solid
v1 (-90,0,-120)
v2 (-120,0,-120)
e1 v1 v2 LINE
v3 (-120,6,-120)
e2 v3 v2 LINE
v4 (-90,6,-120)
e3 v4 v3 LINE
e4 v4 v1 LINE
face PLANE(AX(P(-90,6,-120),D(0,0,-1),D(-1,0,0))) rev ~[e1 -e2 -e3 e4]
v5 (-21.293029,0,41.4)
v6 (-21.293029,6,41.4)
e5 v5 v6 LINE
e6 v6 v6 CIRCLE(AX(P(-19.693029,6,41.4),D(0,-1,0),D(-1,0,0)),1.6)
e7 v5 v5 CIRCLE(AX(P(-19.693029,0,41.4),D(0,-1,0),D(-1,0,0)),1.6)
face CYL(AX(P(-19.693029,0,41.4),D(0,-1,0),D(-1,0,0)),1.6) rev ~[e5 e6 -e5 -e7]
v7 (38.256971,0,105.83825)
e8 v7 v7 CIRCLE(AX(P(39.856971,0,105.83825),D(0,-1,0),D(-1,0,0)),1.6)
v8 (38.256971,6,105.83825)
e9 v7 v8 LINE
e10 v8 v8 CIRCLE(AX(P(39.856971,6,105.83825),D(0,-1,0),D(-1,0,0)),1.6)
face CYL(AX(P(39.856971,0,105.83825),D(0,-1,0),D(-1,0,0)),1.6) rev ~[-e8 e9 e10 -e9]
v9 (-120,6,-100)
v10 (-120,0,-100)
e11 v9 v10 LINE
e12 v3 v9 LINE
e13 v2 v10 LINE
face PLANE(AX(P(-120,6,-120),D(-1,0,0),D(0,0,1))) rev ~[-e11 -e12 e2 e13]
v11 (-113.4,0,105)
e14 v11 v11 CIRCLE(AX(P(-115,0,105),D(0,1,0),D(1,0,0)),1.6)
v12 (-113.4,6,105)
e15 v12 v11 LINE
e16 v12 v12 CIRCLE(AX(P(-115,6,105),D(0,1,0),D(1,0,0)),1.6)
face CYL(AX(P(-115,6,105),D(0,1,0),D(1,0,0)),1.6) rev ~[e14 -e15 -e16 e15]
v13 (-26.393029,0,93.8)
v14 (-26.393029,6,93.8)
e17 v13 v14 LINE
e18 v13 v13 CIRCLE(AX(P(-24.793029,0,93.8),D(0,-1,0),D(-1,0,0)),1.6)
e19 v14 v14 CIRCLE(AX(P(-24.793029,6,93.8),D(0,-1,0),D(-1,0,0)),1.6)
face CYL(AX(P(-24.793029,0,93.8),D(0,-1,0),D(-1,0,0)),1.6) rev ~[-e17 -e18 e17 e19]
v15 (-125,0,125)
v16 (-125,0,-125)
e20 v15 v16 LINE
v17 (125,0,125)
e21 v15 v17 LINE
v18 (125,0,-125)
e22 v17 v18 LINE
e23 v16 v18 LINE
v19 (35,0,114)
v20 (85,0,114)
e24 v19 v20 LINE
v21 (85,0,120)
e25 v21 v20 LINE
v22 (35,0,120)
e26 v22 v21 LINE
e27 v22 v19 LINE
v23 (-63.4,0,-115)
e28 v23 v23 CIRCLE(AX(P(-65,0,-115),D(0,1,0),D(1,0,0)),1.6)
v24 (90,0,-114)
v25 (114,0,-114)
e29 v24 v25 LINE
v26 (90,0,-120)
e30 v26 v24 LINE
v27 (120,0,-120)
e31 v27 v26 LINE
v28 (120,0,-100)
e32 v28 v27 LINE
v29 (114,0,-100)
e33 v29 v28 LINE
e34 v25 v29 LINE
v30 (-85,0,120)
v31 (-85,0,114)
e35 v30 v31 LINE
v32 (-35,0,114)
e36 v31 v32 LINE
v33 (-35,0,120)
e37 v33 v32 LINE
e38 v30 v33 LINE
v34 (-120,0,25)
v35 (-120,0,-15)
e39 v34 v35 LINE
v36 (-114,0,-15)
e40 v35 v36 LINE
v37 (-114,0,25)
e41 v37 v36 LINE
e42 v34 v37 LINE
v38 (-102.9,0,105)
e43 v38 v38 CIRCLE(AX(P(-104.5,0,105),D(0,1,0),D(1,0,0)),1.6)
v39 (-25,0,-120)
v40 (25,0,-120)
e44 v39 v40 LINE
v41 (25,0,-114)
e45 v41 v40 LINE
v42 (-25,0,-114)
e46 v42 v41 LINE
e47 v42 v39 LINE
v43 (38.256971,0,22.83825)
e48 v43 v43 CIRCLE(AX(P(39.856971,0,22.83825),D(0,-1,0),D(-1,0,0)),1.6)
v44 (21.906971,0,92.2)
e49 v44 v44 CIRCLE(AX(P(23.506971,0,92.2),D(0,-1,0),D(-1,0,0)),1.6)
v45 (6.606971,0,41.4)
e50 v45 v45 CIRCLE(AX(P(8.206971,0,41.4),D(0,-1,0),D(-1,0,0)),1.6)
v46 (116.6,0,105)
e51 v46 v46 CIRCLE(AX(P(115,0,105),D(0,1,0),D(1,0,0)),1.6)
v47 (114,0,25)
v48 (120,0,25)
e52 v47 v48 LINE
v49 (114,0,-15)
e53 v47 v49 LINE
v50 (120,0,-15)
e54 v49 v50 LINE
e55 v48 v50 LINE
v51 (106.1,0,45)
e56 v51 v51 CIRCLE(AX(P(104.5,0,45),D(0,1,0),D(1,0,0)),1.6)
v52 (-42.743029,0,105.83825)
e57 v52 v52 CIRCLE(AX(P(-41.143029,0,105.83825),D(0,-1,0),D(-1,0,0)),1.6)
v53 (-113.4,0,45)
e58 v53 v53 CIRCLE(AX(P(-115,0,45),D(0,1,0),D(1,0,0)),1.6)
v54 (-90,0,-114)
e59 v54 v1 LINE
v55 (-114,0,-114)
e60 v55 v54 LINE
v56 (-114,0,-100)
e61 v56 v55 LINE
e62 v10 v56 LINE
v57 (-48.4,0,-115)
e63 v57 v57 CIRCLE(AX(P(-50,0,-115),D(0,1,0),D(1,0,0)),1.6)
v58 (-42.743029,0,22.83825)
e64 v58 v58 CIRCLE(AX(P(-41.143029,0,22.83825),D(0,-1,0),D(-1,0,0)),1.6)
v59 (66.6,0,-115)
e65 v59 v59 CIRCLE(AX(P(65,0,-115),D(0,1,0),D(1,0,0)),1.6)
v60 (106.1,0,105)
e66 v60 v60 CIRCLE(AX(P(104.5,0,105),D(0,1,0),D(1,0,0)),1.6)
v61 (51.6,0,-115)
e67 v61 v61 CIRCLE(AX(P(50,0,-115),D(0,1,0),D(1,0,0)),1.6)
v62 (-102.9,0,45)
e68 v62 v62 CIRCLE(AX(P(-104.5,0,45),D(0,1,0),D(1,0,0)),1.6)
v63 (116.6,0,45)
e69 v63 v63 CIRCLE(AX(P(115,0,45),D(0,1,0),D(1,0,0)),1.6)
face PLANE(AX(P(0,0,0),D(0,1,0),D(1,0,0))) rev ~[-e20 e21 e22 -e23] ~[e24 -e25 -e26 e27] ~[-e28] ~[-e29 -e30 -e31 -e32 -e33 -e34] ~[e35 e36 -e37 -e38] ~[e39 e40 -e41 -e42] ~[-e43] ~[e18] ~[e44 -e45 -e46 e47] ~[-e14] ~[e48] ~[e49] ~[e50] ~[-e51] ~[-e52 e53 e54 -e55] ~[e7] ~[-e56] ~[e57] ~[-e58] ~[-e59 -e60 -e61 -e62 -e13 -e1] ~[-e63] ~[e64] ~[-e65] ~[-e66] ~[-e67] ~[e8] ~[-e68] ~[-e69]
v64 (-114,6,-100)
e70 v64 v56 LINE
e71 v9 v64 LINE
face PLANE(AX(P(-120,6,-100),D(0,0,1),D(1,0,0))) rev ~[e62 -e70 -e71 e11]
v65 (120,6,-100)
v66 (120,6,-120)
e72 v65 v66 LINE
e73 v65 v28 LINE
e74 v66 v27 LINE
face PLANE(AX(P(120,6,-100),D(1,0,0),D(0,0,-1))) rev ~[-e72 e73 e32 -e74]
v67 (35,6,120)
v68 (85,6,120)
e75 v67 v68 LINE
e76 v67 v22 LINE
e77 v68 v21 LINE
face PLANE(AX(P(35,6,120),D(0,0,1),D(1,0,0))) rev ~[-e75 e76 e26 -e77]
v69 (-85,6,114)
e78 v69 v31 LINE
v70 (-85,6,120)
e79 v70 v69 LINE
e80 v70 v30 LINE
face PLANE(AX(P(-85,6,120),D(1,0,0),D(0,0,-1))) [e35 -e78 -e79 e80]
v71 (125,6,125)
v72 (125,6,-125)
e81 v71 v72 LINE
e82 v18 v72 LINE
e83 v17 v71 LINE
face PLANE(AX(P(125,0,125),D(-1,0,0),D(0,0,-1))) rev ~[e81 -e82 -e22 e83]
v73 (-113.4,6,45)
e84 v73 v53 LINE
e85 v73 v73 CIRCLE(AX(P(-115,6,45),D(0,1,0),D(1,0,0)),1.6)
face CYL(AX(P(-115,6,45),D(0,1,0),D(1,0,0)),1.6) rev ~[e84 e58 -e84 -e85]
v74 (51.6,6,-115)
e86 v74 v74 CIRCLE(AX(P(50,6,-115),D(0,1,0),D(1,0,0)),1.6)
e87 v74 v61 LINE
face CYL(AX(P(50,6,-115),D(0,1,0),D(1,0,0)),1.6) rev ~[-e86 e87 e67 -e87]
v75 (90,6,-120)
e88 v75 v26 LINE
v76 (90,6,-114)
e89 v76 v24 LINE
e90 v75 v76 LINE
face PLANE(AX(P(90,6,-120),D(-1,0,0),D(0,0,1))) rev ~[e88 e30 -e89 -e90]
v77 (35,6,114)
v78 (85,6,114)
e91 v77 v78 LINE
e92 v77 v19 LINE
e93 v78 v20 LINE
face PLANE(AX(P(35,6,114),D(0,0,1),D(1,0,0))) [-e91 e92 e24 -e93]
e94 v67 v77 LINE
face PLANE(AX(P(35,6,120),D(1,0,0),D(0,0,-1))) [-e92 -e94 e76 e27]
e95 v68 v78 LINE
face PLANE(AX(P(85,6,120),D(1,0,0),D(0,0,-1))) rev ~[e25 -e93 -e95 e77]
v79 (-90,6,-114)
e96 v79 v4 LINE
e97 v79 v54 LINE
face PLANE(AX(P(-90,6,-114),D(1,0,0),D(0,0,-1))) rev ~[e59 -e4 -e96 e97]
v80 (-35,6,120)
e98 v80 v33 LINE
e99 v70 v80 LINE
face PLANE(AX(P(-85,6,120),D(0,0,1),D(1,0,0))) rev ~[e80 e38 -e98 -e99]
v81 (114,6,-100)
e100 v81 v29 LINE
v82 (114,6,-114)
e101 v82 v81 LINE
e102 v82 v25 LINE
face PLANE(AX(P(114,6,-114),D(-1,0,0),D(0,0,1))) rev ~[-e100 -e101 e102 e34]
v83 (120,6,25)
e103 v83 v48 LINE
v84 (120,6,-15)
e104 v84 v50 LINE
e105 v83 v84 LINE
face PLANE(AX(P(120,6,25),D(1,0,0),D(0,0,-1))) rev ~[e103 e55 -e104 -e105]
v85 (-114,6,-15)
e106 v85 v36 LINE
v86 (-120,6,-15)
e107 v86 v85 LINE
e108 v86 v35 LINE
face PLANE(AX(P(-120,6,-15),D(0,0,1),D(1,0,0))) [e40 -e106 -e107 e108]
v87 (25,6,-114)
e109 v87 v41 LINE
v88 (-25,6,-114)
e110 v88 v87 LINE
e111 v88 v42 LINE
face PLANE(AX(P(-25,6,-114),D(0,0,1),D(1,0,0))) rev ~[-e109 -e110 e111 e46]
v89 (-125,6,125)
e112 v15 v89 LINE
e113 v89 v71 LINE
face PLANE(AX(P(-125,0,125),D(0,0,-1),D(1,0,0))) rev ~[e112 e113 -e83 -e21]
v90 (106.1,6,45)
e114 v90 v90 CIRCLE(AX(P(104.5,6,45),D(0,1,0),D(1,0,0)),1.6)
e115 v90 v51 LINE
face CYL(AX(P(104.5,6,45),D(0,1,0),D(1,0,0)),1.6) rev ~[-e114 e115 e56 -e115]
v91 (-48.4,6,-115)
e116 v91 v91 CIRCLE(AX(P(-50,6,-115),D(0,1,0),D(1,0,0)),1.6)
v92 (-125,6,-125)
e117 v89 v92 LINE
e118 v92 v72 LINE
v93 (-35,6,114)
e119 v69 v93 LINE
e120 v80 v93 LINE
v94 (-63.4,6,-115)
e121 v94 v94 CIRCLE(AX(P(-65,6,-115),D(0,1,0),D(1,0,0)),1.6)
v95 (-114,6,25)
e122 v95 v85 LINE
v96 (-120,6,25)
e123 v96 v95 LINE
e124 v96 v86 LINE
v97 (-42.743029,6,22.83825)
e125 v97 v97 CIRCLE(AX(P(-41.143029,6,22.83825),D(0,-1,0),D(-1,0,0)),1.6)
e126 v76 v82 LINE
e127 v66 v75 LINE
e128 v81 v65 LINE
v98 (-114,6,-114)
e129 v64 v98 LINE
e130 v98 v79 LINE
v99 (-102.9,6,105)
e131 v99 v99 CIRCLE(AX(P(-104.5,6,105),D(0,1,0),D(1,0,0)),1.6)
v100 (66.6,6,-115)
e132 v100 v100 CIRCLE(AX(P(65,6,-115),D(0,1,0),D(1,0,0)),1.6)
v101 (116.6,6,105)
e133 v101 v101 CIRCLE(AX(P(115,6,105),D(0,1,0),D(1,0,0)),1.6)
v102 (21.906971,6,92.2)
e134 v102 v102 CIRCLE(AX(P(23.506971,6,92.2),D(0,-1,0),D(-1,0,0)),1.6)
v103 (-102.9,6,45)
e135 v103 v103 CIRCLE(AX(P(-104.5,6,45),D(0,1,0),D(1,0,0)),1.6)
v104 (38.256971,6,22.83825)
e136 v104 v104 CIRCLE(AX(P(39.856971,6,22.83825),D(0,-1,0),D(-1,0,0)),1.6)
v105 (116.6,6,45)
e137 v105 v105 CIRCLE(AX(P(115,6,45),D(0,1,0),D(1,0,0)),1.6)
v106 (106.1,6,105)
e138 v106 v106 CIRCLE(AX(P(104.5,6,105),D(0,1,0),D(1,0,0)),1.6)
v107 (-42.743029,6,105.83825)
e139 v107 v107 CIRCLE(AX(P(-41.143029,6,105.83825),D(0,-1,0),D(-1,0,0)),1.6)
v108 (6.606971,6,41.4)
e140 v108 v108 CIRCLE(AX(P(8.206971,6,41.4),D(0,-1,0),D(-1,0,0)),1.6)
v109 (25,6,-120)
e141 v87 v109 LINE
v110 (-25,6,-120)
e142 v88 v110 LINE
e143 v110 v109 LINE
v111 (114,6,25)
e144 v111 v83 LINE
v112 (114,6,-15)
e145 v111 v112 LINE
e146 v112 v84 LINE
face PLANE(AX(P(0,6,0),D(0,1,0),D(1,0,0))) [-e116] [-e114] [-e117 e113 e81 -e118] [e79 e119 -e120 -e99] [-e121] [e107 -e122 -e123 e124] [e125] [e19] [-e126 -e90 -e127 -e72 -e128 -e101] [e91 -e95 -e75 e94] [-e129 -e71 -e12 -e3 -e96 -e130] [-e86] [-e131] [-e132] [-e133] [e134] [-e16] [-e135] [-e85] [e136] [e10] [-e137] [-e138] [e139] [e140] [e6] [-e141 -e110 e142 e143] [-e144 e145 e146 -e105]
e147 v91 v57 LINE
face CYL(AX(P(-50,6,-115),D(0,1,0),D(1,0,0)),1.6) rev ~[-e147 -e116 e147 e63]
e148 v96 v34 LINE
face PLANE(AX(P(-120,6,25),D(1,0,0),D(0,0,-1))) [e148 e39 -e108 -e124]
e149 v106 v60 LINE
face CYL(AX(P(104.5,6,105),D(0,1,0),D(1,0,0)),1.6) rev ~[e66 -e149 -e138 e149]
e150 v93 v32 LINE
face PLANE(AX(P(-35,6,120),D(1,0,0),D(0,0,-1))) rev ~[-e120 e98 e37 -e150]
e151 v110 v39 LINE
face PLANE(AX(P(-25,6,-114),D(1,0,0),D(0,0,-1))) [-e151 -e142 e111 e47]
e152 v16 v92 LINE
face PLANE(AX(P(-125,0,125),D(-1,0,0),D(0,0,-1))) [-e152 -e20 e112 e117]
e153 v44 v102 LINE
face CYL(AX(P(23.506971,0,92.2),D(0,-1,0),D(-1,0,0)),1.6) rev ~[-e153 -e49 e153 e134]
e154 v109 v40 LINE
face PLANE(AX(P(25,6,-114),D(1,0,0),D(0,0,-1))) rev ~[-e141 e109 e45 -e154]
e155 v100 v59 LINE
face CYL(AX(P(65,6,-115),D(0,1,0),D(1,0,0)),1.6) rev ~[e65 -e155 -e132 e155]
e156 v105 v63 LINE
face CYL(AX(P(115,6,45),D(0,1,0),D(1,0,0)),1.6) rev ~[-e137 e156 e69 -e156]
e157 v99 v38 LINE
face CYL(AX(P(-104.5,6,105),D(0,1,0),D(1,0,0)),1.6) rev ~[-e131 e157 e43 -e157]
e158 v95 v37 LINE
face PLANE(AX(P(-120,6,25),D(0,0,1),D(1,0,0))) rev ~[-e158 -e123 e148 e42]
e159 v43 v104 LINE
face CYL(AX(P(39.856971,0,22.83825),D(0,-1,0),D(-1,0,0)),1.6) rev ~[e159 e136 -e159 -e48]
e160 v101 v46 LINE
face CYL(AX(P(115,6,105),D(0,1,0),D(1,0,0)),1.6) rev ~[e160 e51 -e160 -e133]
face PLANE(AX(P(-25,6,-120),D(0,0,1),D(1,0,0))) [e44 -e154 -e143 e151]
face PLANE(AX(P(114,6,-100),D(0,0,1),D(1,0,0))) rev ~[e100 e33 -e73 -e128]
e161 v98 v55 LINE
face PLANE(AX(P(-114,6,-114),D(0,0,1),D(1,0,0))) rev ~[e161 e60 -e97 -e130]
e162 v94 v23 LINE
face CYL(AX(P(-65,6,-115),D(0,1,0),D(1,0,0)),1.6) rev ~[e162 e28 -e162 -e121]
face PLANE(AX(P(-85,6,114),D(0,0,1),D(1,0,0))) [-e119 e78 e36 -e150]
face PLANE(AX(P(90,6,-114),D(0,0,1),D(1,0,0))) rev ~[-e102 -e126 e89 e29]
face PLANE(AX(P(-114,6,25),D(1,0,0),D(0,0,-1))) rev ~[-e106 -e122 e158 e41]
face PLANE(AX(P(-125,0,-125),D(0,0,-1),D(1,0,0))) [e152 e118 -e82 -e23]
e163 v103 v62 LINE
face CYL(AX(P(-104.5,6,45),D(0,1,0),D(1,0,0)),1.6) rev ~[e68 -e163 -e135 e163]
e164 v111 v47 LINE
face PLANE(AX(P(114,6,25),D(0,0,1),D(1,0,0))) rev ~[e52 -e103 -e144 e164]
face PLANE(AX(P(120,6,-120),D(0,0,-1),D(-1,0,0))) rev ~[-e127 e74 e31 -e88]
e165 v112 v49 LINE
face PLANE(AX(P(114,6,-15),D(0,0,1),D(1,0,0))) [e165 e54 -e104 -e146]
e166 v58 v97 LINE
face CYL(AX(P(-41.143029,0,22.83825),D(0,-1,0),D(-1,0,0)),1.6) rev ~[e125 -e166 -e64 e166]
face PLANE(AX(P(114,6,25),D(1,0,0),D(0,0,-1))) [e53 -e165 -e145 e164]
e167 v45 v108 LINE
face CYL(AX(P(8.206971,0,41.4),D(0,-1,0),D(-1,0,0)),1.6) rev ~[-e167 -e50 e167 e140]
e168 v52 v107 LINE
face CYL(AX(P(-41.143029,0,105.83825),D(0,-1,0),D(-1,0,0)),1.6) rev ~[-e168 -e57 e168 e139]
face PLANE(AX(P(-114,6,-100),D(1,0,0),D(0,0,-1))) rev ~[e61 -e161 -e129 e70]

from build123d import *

# Parameters (mm, degrees)
SKETCH1_W           = 250
SKETCH1_H           = 250
BOSS_EXTRUDE1_DEPTH = 6
CUT_EXTRUDE2_REACH  = 8
SKETCH4_R           = 1.6
CUT_EXTRUDE3_REACH  = 8
SKETCH5_R           = 1.6
SKETCH6_W           = 6
SKETCH6_H           = 40
SKETCH6_W_2         = 50
SKETCH6_H_2         = 6
CUT_EXTRUDE6_DEPTH  = 6
CUT_EXTRUDE7_REACH  = 8
SKETCH7_R           = 1.6
CUT_EXTRUDE8_REACH  = 8
SKETCH8_R           = 1.6


with BuildPart() as part:
    # Sketch1 → Boss-Extrude1 (new body)
    with BuildSketch(Plane(origin=(0, 0, 0), x_dir=(1, 0, 0), z_dir=(0, 1, 0))):
        Rectangle(SKETCH1_W, SKETCH1_H)
    extrude(amount=BOSS_EXTRUDE1_DEPTH)

    # Sketch4 → Cut-Extrude2 (cut, up to next)
    with BuildSketch(Plane(origin=(0, 6, 0), x_dir=(1, 0, 0), z_dir=(0, 1, 0)), mode=Mode.PRIVATE) as cut_extrude2_sk1:
        with Locations((-115, -105)):
            Circle(SKETCH4_R)
    cut_extrude2_tool1 = extrude(cut_extrude2_sk1.sketch, amount=-CUT_EXTRUDE2_REACH, mode=Mode.PRIVATE) & part.part
    add(cut_extrude2_tool1.solids().sort_by_distance((-115, 6, 105))[0], mode=Mode.SUBTRACT)
    # Sketch4 → Cut-Extrude2 (cut, up to next)
    with BuildSketch(Plane(origin=(0, 6, 0), x_dir=(1, 0, 0), z_dir=(0, 1, 0)), mode=Mode.PRIVATE) as cut_extrude2_sk2:
        with Locations((-104.5, -105)):
            Circle(SKETCH4_R)
    cut_extrude2_tool2 = extrude(cut_extrude2_sk2.sketch, amount=-CUT_EXTRUDE2_REACH, mode=Mode.PRIVATE) & part.part
    add(cut_extrude2_tool2.solids().sort_by_distance((-104.5, 6, 105))[0], mode=Mode.SUBTRACT)
    # Sketch4 → Cut-Extrude2 (cut, up to next)
    with BuildSketch(Plane(origin=(0, 6, 0), x_dir=(1, 0, 0), z_dir=(0, 1, 0)), mode=Mode.PRIVATE) as cut_extrude2_sk3:
        with Locations((-115, -45)):
            Circle(SKETCH4_R)
    cut_extrude2_tool3 = extrude(cut_extrude2_sk3.sketch, amount=-CUT_EXTRUDE2_REACH, mode=Mode.PRIVATE) & part.part
    add(cut_extrude2_tool3.solids().sort_by_distance((-115, 6, 45))[0], mode=Mode.SUBTRACT)
    # Sketch4 → Cut-Extrude2 (cut, up to next)
    with BuildSketch(Plane(origin=(0, 6, 0), x_dir=(1, 0, 0), z_dir=(0, 1, 0)), mode=Mode.PRIVATE) as cut_extrude2_sk4:
        with Locations((-104.5, -45)):
            Circle(SKETCH4_R)
    cut_extrude2_tool4 = extrude(cut_extrude2_sk4.sketch, amount=-CUT_EXTRUDE2_REACH, mode=Mode.PRIVATE) & part.part
    add(cut_extrude2_tool4.solids().sort_by_distance((-104.5, 6, 45))[0], mode=Mode.SUBTRACT)
    # Sketch4 → Cut-Extrude2 (cut, up to next)
    with BuildSketch(Plane(origin=(0, 6, 0), x_dir=(1, 0, 0), z_dir=(0, 1, 0)), mode=Mode.PRIVATE) as cut_extrude2_sk5:
        with Locations((115, -45)):
            Circle(SKETCH4_R)
    cut_extrude2_tool5 = extrude(cut_extrude2_sk5.sketch, amount=-CUT_EXTRUDE2_REACH, mode=Mode.PRIVATE) & part.part
    add(cut_extrude2_tool5.solids().sort_by_distance((115, 6, 45))[0], mode=Mode.SUBTRACT)
    # Sketch4 → Cut-Extrude2 (cut, up to next)
    with BuildSketch(Plane(origin=(0, 6, 0), x_dir=(1, 0, 0), z_dir=(0, 1, 0)), mode=Mode.PRIVATE) as cut_extrude2_sk6:
        with Locations((104.5, -45)):
            Circle(SKETCH4_R)
    cut_extrude2_tool6 = extrude(cut_extrude2_sk6.sketch, amount=-CUT_EXTRUDE2_REACH, mode=Mode.PRIVATE) & part.part
    add(cut_extrude2_tool6.solids().sort_by_distance((104.5, 6, 45))[0], mode=Mode.SUBTRACT)
    # Sketch4 → Cut-Extrude2 (cut, up to next)
    with BuildSketch(Plane(origin=(0, 6, 0), x_dir=(1, 0, 0), z_dir=(0, 1, 0)), mode=Mode.PRIVATE) as cut_extrude2_sk7:
        with Locations((115, -105)):
            Circle(SKETCH4_R)
    cut_extrude2_tool7 = extrude(cut_extrude2_sk7.sketch, amount=-CUT_EXTRUDE2_REACH, mode=Mode.PRIVATE) & part.part
    add(cut_extrude2_tool7.solids().sort_by_distance((115, 6, 105))[0], mode=Mode.SUBTRACT)
    # Sketch4 → Cut-Extrude2 (cut, up to next)
    with BuildSketch(Plane(origin=(0, 6, 0), x_dir=(1, 0, 0), z_dir=(0, 1, 0)), mode=Mode.PRIVATE) as cut_extrude2_sk8:
        with Locations((104.5, -105)):
            Circle(SKETCH4_R)
    cut_extrude2_tool8 = extrude(cut_extrude2_sk8.sketch, amount=-CUT_EXTRUDE2_REACH, mode=Mode.PRIVATE) & part.part
    add(cut_extrude2_tool8.solids().sort_by_distance((104.5, 6, 105))[0], mode=Mode.SUBTRACT)

    # Sketch5 → Cut-Extrude3 (cut, up to next)
    with BuildSketch(Plane(origin=(0, 6, 0), x_dir=(1, 0, 0), z_dir=(0, 1, 0)), mode=Mode.PRIVATE) as cut_extrude3_sk1:
        with Locations((-65, 115)):
            Circle(SKETCH5_R)
    cut_extrude3_tool1 = extrude(cut_extrude3_sk1.sketch, amount=-CUT_EXTRUDE3_REACH, mode=Mode.PRIVATE) & part.part
    add(cut_extrude3_tool1.solids().sort_by_distance((-65, 6, -115))[0], mode=Mode.SUBTRACT)
    # Sketch5 → Cut-Extrude3 (cut, up to next)
    with BuildSketch(Plane(origin=(0, 6, 0), x_dir=(1, 0, 0), z_dir=(0, 1, 0)), mode=Mode.PRIVATE) as cut_extrude3_sk2:
        with Locations((-50, 115)):
            Circle(SKETCH5_R)
    cut_extrude3_tool2 = extrude(cut_extrude3_sk2.sketch, amount=-CUT_EXTRUDE3_REACH, mode=Mode.PRIVATE) & part.part
    add(cut_extrude3_tool2.solids().sort_by_distance((-50, 6, -115))[0], mode=Mode.SUBTRACT)
    # Sketch5 → Cut-Extrude3 (cut, up to next)
    with BuildSketch(Plane(origin=(0, 6, 0), x_dir=(1, 0, 0), z_dir=(0, 1, 0)), mode=Mode.PRIVATE) as cut_extrude3_sk3:
        with Locations((50, 115)):
            Circle(SKETCH5_R)
    cut_extrude3_tool3 = extrude(cut_extrude3_sk3.sketch, amount=-CUT_EXTRUDE3_REACH, mode=Mode.PRIVATE) & part.part
    add(cut_extrude3_tool3.solids().sort_by_distance((50, 6, -115))[0], mode=Mode.SUBTRACT)
    # Sketch5 → Cut-Extrude3 (cut, up to next)
    with BuildSketch(Plane(origin=(0, 6, 0), x_dir=(1, 0, 0), z_dir=(0, 1, 0)), mode=Mode.PRIVATE) as cut_extrude3_sk4:
        with Locations((65, 115)):
            Circle(SKETCH5_R)
    cut_extrude3_tool4 = extrude(cut_extrude3_sk4.sketch, amount=-CUT_EXTRUDE3_REACH, mode=Mode.PRIVATE) & part.part
    add(cut_extrude3_tool4.solids().sort_by_distance((65, 6, -115))[0], mode=Mode.SUBTRACT)

    # Sketch6 → Cut-Extrude6 (cut)
    with BuildSketch(Plane(origin=(0, 6, 0), x_dir=(1, 0, 0), z_dir=(0, 1, 0))):
        Polygon((-90, 120), (-120, 120), (-120, 100), (-114, 100), (-114, 114), (-90, 114), align=None)
        with Locations((-117, -5)):
            Rectangle(SKETCH6_W, SKETCH6_H)
        with Locations((-60, -117)):
            Rectangle(SKETCH6_W_2, SKETCH6_H_2)
        with Locations((60, -117)):
            Rectangle(SKETCH6_W_2, SKETCH6_H_2)
        Polygon((120, 100), (120, 120), (90, 120), (90, 114), (114, 114), (114, 100), align=None)
        with Locations((117, -5)):
            Rectangle(SKETCH6_W, SKETCH6_H)
        with Locations((0, 117)):
            Rectangle(SKETCH6_W_2, SKETCH6_H_2)
    extrude(amount=-CUT_EXTRUDE6_DEPTH, mode=Mode.SUBTRACT)

    # Sketch7 → Cut-Extrude7 (cut, up to next)
    with BuildSketch(Plane(origin=(0, 0, 0), x_dir=(-1, 0, 0), z_dir=(0, -1, 0)), mode=Mode.PRIVATE) as cut_extrude7_sk1:
        with Locations((19.693028717, -41.4)):
            Circle(SKETCH7_R)
    cut_extrude7_tool1 = extrude(cut_extrude7_sk1.sketch, amount=-CUT_EXTRUDE7_REACH, mode=Mode.PRIVATE) & part.part
    add(cut_extrude7_tool1.solids().sort_by_distance((-19.693029, 0, 41.4))[0], mode=Mode.SUBTRACT)
    # Sketch7 → Cut-Extrude7 (cut, up to next)
    with BuildSketch(Plane(origin=(0, 0, 0), x_dir=(-1, 0, 0), z_dir=(0, -1, 0)), mode=Mode.PRIVATE) as cut_extrude7_sk2:
        with Locations((-8.206971283, -41.4)):
            Circle(SKETCH7_R)
    cut_extrude7_tool2 = extrude(cut_extrude7_sk2.sketch, amount=-CUT_EXTRUDE7_REACH, mode=Mode.PRIVATE) & part.part
    add(cut_extrude7_tool2.solids().sort_by_distance((8.206971, 0, 41.4))[0], mode=Mode.SUBTRACT)
    # Sketch7 → Cut-Extrude7 (cut, up to next)
    with BuildSketch(Plane(origin=(0, 0, 0), x_dir=(-1, 0, 0), z_dir=(0, -1, 0)), mode=Mode.PRIVATE) as cut_extrude7_sk3:
        with Locations((-23.506971283, -92.2)):
            Circle(SKETCH7_R)
    cut_extrude7_tool3 = extrude(cut_extrude7_sk3.sketch, amount=-CUT_EXTRUDE7_REACH, mode=Mode.PRIVATE) & part.part
    add(cut_extrude7_tool3.solids().sort_by_distance((23.506971, 0, 92.2))[0], mode=Mode.SUBTRACT)
    # Sketch7 → Cut-Extrude7 (cut, up to next)
    with BuildSketch(Plane(origin=(0, 0, 0), x_dir=(-1, 0, 0), z_dir=(0, -1, 0)), mode=Mode.PRIVATE) as cut_extrude7_sk4:
        with Locations((24.793028717, -93.8)):
            Circle(SKETCH7_R)
    cut_extrude7_tool4 = extrude(cut_extrude7_sk4.sketch, amount=-CUT_EXTRUDE7_REACH, mode=Mode.PRIVATE) & part.part
    add(cut_extrude7_tool4.solids().sort_by_distance((-24.793029, 0, 93.8))[0], mode=Mode.SUBTRACT)

    # Sketch8 → Cut-Extrude8 (cut, up to next)
    with BuildSketch(Plane(origin=(0, 0, 0), x_dir=(-1, 0, 0), z_dir=(0, -1, 0)), mode=Mode.PRIVATE) as cut_extrude8_sk1:
        with Locations((41.143028717, -105.838250208)):
            Circle(SKETCH8_R)
    cut_extrude8_tool1 = extrude(cut_extrude8_sk1.sketch, amount=-CUT_EXTRUDE8_REACH, mode=Mode.PRIVATE) & part.part
    add(cut_extrude8_tool1.solids().sort_by_distance((-41.143029, 0, 105.83825))[0], mode=Mode.SUBTRACT)
    # Sketch8 → Cut-Extrude8 (cut, up to next)
    with BuildSketch(Plane(origin=(0, 0, 0), x_dir=(-1, 0, 0), z_dir=(0, -1, 0)), mode=Mode.PRIVATE) as cut_extrude8_sk2:
        with Locations((41.143028717, -22.838250208)):
            Circle(SKETCH8_R)
    cut_extrude8_tool2 = extrude(cut_extrude8_sk2.sketch, amount=-CUT_EXTRUDE8_REACH, mode=Mode.PRIVATE) & part.part
    add(cut_extrude8_tool2.solids().sort_by_distance((-41.143029, 0, 22.83825))[0], mode=Mode.SUBTRACT)
    # Sketch8 → Cut-Extrude8 (cut, up to next)
    with BuildSketch(Plane(origin=(0, 0, 0), x_dir=(-1, 0, 0), z_dir=(0, -1, 0)), mode=Mode.PRIVATE) as cut_extrude8_sk3:
        with Locations((-39.856971283, -22.838250208)):
            Circle(SKETCH8_R)
    cut_extrude8_tool3 = extrude(cut_extrude8_sk3.sketch, amount=-CUT_EXTRUDE8_REACH, mode=Mode.PRIVATE) & part.part
    add(cut_extrude8_tool3.solids().sort_by_distance((39.856971, 0, 22.83825))[0], mode=Mode.SUBTRACT)
    # Sketch8 → Cut-Extrude8 (cut, up to next)
    with BuildSketch(Plane(origin=(0, 0, 0), x_dir=(-1, 0, 0), z_dir=(0, -1, 0)), mode=Mode.PRIVATE) as cut_extrude8_sk4:
        with Locations((-39.856971283, -105.838250208)):
            Circle(SKETCH8_R)
    cut_extrude8_tool4 = extrude(cut_extrude8_sk4.sketch, amount=-CUT_EXTRUDE8_REACH, mode=Mode.PRIVATE) & part.part
    add(cut_extrude8_tool4.solids().sort_by_distance((39.856971, 0, 105.83825))[0], mode=Mode.SUBTRACT)


solid = part.part
